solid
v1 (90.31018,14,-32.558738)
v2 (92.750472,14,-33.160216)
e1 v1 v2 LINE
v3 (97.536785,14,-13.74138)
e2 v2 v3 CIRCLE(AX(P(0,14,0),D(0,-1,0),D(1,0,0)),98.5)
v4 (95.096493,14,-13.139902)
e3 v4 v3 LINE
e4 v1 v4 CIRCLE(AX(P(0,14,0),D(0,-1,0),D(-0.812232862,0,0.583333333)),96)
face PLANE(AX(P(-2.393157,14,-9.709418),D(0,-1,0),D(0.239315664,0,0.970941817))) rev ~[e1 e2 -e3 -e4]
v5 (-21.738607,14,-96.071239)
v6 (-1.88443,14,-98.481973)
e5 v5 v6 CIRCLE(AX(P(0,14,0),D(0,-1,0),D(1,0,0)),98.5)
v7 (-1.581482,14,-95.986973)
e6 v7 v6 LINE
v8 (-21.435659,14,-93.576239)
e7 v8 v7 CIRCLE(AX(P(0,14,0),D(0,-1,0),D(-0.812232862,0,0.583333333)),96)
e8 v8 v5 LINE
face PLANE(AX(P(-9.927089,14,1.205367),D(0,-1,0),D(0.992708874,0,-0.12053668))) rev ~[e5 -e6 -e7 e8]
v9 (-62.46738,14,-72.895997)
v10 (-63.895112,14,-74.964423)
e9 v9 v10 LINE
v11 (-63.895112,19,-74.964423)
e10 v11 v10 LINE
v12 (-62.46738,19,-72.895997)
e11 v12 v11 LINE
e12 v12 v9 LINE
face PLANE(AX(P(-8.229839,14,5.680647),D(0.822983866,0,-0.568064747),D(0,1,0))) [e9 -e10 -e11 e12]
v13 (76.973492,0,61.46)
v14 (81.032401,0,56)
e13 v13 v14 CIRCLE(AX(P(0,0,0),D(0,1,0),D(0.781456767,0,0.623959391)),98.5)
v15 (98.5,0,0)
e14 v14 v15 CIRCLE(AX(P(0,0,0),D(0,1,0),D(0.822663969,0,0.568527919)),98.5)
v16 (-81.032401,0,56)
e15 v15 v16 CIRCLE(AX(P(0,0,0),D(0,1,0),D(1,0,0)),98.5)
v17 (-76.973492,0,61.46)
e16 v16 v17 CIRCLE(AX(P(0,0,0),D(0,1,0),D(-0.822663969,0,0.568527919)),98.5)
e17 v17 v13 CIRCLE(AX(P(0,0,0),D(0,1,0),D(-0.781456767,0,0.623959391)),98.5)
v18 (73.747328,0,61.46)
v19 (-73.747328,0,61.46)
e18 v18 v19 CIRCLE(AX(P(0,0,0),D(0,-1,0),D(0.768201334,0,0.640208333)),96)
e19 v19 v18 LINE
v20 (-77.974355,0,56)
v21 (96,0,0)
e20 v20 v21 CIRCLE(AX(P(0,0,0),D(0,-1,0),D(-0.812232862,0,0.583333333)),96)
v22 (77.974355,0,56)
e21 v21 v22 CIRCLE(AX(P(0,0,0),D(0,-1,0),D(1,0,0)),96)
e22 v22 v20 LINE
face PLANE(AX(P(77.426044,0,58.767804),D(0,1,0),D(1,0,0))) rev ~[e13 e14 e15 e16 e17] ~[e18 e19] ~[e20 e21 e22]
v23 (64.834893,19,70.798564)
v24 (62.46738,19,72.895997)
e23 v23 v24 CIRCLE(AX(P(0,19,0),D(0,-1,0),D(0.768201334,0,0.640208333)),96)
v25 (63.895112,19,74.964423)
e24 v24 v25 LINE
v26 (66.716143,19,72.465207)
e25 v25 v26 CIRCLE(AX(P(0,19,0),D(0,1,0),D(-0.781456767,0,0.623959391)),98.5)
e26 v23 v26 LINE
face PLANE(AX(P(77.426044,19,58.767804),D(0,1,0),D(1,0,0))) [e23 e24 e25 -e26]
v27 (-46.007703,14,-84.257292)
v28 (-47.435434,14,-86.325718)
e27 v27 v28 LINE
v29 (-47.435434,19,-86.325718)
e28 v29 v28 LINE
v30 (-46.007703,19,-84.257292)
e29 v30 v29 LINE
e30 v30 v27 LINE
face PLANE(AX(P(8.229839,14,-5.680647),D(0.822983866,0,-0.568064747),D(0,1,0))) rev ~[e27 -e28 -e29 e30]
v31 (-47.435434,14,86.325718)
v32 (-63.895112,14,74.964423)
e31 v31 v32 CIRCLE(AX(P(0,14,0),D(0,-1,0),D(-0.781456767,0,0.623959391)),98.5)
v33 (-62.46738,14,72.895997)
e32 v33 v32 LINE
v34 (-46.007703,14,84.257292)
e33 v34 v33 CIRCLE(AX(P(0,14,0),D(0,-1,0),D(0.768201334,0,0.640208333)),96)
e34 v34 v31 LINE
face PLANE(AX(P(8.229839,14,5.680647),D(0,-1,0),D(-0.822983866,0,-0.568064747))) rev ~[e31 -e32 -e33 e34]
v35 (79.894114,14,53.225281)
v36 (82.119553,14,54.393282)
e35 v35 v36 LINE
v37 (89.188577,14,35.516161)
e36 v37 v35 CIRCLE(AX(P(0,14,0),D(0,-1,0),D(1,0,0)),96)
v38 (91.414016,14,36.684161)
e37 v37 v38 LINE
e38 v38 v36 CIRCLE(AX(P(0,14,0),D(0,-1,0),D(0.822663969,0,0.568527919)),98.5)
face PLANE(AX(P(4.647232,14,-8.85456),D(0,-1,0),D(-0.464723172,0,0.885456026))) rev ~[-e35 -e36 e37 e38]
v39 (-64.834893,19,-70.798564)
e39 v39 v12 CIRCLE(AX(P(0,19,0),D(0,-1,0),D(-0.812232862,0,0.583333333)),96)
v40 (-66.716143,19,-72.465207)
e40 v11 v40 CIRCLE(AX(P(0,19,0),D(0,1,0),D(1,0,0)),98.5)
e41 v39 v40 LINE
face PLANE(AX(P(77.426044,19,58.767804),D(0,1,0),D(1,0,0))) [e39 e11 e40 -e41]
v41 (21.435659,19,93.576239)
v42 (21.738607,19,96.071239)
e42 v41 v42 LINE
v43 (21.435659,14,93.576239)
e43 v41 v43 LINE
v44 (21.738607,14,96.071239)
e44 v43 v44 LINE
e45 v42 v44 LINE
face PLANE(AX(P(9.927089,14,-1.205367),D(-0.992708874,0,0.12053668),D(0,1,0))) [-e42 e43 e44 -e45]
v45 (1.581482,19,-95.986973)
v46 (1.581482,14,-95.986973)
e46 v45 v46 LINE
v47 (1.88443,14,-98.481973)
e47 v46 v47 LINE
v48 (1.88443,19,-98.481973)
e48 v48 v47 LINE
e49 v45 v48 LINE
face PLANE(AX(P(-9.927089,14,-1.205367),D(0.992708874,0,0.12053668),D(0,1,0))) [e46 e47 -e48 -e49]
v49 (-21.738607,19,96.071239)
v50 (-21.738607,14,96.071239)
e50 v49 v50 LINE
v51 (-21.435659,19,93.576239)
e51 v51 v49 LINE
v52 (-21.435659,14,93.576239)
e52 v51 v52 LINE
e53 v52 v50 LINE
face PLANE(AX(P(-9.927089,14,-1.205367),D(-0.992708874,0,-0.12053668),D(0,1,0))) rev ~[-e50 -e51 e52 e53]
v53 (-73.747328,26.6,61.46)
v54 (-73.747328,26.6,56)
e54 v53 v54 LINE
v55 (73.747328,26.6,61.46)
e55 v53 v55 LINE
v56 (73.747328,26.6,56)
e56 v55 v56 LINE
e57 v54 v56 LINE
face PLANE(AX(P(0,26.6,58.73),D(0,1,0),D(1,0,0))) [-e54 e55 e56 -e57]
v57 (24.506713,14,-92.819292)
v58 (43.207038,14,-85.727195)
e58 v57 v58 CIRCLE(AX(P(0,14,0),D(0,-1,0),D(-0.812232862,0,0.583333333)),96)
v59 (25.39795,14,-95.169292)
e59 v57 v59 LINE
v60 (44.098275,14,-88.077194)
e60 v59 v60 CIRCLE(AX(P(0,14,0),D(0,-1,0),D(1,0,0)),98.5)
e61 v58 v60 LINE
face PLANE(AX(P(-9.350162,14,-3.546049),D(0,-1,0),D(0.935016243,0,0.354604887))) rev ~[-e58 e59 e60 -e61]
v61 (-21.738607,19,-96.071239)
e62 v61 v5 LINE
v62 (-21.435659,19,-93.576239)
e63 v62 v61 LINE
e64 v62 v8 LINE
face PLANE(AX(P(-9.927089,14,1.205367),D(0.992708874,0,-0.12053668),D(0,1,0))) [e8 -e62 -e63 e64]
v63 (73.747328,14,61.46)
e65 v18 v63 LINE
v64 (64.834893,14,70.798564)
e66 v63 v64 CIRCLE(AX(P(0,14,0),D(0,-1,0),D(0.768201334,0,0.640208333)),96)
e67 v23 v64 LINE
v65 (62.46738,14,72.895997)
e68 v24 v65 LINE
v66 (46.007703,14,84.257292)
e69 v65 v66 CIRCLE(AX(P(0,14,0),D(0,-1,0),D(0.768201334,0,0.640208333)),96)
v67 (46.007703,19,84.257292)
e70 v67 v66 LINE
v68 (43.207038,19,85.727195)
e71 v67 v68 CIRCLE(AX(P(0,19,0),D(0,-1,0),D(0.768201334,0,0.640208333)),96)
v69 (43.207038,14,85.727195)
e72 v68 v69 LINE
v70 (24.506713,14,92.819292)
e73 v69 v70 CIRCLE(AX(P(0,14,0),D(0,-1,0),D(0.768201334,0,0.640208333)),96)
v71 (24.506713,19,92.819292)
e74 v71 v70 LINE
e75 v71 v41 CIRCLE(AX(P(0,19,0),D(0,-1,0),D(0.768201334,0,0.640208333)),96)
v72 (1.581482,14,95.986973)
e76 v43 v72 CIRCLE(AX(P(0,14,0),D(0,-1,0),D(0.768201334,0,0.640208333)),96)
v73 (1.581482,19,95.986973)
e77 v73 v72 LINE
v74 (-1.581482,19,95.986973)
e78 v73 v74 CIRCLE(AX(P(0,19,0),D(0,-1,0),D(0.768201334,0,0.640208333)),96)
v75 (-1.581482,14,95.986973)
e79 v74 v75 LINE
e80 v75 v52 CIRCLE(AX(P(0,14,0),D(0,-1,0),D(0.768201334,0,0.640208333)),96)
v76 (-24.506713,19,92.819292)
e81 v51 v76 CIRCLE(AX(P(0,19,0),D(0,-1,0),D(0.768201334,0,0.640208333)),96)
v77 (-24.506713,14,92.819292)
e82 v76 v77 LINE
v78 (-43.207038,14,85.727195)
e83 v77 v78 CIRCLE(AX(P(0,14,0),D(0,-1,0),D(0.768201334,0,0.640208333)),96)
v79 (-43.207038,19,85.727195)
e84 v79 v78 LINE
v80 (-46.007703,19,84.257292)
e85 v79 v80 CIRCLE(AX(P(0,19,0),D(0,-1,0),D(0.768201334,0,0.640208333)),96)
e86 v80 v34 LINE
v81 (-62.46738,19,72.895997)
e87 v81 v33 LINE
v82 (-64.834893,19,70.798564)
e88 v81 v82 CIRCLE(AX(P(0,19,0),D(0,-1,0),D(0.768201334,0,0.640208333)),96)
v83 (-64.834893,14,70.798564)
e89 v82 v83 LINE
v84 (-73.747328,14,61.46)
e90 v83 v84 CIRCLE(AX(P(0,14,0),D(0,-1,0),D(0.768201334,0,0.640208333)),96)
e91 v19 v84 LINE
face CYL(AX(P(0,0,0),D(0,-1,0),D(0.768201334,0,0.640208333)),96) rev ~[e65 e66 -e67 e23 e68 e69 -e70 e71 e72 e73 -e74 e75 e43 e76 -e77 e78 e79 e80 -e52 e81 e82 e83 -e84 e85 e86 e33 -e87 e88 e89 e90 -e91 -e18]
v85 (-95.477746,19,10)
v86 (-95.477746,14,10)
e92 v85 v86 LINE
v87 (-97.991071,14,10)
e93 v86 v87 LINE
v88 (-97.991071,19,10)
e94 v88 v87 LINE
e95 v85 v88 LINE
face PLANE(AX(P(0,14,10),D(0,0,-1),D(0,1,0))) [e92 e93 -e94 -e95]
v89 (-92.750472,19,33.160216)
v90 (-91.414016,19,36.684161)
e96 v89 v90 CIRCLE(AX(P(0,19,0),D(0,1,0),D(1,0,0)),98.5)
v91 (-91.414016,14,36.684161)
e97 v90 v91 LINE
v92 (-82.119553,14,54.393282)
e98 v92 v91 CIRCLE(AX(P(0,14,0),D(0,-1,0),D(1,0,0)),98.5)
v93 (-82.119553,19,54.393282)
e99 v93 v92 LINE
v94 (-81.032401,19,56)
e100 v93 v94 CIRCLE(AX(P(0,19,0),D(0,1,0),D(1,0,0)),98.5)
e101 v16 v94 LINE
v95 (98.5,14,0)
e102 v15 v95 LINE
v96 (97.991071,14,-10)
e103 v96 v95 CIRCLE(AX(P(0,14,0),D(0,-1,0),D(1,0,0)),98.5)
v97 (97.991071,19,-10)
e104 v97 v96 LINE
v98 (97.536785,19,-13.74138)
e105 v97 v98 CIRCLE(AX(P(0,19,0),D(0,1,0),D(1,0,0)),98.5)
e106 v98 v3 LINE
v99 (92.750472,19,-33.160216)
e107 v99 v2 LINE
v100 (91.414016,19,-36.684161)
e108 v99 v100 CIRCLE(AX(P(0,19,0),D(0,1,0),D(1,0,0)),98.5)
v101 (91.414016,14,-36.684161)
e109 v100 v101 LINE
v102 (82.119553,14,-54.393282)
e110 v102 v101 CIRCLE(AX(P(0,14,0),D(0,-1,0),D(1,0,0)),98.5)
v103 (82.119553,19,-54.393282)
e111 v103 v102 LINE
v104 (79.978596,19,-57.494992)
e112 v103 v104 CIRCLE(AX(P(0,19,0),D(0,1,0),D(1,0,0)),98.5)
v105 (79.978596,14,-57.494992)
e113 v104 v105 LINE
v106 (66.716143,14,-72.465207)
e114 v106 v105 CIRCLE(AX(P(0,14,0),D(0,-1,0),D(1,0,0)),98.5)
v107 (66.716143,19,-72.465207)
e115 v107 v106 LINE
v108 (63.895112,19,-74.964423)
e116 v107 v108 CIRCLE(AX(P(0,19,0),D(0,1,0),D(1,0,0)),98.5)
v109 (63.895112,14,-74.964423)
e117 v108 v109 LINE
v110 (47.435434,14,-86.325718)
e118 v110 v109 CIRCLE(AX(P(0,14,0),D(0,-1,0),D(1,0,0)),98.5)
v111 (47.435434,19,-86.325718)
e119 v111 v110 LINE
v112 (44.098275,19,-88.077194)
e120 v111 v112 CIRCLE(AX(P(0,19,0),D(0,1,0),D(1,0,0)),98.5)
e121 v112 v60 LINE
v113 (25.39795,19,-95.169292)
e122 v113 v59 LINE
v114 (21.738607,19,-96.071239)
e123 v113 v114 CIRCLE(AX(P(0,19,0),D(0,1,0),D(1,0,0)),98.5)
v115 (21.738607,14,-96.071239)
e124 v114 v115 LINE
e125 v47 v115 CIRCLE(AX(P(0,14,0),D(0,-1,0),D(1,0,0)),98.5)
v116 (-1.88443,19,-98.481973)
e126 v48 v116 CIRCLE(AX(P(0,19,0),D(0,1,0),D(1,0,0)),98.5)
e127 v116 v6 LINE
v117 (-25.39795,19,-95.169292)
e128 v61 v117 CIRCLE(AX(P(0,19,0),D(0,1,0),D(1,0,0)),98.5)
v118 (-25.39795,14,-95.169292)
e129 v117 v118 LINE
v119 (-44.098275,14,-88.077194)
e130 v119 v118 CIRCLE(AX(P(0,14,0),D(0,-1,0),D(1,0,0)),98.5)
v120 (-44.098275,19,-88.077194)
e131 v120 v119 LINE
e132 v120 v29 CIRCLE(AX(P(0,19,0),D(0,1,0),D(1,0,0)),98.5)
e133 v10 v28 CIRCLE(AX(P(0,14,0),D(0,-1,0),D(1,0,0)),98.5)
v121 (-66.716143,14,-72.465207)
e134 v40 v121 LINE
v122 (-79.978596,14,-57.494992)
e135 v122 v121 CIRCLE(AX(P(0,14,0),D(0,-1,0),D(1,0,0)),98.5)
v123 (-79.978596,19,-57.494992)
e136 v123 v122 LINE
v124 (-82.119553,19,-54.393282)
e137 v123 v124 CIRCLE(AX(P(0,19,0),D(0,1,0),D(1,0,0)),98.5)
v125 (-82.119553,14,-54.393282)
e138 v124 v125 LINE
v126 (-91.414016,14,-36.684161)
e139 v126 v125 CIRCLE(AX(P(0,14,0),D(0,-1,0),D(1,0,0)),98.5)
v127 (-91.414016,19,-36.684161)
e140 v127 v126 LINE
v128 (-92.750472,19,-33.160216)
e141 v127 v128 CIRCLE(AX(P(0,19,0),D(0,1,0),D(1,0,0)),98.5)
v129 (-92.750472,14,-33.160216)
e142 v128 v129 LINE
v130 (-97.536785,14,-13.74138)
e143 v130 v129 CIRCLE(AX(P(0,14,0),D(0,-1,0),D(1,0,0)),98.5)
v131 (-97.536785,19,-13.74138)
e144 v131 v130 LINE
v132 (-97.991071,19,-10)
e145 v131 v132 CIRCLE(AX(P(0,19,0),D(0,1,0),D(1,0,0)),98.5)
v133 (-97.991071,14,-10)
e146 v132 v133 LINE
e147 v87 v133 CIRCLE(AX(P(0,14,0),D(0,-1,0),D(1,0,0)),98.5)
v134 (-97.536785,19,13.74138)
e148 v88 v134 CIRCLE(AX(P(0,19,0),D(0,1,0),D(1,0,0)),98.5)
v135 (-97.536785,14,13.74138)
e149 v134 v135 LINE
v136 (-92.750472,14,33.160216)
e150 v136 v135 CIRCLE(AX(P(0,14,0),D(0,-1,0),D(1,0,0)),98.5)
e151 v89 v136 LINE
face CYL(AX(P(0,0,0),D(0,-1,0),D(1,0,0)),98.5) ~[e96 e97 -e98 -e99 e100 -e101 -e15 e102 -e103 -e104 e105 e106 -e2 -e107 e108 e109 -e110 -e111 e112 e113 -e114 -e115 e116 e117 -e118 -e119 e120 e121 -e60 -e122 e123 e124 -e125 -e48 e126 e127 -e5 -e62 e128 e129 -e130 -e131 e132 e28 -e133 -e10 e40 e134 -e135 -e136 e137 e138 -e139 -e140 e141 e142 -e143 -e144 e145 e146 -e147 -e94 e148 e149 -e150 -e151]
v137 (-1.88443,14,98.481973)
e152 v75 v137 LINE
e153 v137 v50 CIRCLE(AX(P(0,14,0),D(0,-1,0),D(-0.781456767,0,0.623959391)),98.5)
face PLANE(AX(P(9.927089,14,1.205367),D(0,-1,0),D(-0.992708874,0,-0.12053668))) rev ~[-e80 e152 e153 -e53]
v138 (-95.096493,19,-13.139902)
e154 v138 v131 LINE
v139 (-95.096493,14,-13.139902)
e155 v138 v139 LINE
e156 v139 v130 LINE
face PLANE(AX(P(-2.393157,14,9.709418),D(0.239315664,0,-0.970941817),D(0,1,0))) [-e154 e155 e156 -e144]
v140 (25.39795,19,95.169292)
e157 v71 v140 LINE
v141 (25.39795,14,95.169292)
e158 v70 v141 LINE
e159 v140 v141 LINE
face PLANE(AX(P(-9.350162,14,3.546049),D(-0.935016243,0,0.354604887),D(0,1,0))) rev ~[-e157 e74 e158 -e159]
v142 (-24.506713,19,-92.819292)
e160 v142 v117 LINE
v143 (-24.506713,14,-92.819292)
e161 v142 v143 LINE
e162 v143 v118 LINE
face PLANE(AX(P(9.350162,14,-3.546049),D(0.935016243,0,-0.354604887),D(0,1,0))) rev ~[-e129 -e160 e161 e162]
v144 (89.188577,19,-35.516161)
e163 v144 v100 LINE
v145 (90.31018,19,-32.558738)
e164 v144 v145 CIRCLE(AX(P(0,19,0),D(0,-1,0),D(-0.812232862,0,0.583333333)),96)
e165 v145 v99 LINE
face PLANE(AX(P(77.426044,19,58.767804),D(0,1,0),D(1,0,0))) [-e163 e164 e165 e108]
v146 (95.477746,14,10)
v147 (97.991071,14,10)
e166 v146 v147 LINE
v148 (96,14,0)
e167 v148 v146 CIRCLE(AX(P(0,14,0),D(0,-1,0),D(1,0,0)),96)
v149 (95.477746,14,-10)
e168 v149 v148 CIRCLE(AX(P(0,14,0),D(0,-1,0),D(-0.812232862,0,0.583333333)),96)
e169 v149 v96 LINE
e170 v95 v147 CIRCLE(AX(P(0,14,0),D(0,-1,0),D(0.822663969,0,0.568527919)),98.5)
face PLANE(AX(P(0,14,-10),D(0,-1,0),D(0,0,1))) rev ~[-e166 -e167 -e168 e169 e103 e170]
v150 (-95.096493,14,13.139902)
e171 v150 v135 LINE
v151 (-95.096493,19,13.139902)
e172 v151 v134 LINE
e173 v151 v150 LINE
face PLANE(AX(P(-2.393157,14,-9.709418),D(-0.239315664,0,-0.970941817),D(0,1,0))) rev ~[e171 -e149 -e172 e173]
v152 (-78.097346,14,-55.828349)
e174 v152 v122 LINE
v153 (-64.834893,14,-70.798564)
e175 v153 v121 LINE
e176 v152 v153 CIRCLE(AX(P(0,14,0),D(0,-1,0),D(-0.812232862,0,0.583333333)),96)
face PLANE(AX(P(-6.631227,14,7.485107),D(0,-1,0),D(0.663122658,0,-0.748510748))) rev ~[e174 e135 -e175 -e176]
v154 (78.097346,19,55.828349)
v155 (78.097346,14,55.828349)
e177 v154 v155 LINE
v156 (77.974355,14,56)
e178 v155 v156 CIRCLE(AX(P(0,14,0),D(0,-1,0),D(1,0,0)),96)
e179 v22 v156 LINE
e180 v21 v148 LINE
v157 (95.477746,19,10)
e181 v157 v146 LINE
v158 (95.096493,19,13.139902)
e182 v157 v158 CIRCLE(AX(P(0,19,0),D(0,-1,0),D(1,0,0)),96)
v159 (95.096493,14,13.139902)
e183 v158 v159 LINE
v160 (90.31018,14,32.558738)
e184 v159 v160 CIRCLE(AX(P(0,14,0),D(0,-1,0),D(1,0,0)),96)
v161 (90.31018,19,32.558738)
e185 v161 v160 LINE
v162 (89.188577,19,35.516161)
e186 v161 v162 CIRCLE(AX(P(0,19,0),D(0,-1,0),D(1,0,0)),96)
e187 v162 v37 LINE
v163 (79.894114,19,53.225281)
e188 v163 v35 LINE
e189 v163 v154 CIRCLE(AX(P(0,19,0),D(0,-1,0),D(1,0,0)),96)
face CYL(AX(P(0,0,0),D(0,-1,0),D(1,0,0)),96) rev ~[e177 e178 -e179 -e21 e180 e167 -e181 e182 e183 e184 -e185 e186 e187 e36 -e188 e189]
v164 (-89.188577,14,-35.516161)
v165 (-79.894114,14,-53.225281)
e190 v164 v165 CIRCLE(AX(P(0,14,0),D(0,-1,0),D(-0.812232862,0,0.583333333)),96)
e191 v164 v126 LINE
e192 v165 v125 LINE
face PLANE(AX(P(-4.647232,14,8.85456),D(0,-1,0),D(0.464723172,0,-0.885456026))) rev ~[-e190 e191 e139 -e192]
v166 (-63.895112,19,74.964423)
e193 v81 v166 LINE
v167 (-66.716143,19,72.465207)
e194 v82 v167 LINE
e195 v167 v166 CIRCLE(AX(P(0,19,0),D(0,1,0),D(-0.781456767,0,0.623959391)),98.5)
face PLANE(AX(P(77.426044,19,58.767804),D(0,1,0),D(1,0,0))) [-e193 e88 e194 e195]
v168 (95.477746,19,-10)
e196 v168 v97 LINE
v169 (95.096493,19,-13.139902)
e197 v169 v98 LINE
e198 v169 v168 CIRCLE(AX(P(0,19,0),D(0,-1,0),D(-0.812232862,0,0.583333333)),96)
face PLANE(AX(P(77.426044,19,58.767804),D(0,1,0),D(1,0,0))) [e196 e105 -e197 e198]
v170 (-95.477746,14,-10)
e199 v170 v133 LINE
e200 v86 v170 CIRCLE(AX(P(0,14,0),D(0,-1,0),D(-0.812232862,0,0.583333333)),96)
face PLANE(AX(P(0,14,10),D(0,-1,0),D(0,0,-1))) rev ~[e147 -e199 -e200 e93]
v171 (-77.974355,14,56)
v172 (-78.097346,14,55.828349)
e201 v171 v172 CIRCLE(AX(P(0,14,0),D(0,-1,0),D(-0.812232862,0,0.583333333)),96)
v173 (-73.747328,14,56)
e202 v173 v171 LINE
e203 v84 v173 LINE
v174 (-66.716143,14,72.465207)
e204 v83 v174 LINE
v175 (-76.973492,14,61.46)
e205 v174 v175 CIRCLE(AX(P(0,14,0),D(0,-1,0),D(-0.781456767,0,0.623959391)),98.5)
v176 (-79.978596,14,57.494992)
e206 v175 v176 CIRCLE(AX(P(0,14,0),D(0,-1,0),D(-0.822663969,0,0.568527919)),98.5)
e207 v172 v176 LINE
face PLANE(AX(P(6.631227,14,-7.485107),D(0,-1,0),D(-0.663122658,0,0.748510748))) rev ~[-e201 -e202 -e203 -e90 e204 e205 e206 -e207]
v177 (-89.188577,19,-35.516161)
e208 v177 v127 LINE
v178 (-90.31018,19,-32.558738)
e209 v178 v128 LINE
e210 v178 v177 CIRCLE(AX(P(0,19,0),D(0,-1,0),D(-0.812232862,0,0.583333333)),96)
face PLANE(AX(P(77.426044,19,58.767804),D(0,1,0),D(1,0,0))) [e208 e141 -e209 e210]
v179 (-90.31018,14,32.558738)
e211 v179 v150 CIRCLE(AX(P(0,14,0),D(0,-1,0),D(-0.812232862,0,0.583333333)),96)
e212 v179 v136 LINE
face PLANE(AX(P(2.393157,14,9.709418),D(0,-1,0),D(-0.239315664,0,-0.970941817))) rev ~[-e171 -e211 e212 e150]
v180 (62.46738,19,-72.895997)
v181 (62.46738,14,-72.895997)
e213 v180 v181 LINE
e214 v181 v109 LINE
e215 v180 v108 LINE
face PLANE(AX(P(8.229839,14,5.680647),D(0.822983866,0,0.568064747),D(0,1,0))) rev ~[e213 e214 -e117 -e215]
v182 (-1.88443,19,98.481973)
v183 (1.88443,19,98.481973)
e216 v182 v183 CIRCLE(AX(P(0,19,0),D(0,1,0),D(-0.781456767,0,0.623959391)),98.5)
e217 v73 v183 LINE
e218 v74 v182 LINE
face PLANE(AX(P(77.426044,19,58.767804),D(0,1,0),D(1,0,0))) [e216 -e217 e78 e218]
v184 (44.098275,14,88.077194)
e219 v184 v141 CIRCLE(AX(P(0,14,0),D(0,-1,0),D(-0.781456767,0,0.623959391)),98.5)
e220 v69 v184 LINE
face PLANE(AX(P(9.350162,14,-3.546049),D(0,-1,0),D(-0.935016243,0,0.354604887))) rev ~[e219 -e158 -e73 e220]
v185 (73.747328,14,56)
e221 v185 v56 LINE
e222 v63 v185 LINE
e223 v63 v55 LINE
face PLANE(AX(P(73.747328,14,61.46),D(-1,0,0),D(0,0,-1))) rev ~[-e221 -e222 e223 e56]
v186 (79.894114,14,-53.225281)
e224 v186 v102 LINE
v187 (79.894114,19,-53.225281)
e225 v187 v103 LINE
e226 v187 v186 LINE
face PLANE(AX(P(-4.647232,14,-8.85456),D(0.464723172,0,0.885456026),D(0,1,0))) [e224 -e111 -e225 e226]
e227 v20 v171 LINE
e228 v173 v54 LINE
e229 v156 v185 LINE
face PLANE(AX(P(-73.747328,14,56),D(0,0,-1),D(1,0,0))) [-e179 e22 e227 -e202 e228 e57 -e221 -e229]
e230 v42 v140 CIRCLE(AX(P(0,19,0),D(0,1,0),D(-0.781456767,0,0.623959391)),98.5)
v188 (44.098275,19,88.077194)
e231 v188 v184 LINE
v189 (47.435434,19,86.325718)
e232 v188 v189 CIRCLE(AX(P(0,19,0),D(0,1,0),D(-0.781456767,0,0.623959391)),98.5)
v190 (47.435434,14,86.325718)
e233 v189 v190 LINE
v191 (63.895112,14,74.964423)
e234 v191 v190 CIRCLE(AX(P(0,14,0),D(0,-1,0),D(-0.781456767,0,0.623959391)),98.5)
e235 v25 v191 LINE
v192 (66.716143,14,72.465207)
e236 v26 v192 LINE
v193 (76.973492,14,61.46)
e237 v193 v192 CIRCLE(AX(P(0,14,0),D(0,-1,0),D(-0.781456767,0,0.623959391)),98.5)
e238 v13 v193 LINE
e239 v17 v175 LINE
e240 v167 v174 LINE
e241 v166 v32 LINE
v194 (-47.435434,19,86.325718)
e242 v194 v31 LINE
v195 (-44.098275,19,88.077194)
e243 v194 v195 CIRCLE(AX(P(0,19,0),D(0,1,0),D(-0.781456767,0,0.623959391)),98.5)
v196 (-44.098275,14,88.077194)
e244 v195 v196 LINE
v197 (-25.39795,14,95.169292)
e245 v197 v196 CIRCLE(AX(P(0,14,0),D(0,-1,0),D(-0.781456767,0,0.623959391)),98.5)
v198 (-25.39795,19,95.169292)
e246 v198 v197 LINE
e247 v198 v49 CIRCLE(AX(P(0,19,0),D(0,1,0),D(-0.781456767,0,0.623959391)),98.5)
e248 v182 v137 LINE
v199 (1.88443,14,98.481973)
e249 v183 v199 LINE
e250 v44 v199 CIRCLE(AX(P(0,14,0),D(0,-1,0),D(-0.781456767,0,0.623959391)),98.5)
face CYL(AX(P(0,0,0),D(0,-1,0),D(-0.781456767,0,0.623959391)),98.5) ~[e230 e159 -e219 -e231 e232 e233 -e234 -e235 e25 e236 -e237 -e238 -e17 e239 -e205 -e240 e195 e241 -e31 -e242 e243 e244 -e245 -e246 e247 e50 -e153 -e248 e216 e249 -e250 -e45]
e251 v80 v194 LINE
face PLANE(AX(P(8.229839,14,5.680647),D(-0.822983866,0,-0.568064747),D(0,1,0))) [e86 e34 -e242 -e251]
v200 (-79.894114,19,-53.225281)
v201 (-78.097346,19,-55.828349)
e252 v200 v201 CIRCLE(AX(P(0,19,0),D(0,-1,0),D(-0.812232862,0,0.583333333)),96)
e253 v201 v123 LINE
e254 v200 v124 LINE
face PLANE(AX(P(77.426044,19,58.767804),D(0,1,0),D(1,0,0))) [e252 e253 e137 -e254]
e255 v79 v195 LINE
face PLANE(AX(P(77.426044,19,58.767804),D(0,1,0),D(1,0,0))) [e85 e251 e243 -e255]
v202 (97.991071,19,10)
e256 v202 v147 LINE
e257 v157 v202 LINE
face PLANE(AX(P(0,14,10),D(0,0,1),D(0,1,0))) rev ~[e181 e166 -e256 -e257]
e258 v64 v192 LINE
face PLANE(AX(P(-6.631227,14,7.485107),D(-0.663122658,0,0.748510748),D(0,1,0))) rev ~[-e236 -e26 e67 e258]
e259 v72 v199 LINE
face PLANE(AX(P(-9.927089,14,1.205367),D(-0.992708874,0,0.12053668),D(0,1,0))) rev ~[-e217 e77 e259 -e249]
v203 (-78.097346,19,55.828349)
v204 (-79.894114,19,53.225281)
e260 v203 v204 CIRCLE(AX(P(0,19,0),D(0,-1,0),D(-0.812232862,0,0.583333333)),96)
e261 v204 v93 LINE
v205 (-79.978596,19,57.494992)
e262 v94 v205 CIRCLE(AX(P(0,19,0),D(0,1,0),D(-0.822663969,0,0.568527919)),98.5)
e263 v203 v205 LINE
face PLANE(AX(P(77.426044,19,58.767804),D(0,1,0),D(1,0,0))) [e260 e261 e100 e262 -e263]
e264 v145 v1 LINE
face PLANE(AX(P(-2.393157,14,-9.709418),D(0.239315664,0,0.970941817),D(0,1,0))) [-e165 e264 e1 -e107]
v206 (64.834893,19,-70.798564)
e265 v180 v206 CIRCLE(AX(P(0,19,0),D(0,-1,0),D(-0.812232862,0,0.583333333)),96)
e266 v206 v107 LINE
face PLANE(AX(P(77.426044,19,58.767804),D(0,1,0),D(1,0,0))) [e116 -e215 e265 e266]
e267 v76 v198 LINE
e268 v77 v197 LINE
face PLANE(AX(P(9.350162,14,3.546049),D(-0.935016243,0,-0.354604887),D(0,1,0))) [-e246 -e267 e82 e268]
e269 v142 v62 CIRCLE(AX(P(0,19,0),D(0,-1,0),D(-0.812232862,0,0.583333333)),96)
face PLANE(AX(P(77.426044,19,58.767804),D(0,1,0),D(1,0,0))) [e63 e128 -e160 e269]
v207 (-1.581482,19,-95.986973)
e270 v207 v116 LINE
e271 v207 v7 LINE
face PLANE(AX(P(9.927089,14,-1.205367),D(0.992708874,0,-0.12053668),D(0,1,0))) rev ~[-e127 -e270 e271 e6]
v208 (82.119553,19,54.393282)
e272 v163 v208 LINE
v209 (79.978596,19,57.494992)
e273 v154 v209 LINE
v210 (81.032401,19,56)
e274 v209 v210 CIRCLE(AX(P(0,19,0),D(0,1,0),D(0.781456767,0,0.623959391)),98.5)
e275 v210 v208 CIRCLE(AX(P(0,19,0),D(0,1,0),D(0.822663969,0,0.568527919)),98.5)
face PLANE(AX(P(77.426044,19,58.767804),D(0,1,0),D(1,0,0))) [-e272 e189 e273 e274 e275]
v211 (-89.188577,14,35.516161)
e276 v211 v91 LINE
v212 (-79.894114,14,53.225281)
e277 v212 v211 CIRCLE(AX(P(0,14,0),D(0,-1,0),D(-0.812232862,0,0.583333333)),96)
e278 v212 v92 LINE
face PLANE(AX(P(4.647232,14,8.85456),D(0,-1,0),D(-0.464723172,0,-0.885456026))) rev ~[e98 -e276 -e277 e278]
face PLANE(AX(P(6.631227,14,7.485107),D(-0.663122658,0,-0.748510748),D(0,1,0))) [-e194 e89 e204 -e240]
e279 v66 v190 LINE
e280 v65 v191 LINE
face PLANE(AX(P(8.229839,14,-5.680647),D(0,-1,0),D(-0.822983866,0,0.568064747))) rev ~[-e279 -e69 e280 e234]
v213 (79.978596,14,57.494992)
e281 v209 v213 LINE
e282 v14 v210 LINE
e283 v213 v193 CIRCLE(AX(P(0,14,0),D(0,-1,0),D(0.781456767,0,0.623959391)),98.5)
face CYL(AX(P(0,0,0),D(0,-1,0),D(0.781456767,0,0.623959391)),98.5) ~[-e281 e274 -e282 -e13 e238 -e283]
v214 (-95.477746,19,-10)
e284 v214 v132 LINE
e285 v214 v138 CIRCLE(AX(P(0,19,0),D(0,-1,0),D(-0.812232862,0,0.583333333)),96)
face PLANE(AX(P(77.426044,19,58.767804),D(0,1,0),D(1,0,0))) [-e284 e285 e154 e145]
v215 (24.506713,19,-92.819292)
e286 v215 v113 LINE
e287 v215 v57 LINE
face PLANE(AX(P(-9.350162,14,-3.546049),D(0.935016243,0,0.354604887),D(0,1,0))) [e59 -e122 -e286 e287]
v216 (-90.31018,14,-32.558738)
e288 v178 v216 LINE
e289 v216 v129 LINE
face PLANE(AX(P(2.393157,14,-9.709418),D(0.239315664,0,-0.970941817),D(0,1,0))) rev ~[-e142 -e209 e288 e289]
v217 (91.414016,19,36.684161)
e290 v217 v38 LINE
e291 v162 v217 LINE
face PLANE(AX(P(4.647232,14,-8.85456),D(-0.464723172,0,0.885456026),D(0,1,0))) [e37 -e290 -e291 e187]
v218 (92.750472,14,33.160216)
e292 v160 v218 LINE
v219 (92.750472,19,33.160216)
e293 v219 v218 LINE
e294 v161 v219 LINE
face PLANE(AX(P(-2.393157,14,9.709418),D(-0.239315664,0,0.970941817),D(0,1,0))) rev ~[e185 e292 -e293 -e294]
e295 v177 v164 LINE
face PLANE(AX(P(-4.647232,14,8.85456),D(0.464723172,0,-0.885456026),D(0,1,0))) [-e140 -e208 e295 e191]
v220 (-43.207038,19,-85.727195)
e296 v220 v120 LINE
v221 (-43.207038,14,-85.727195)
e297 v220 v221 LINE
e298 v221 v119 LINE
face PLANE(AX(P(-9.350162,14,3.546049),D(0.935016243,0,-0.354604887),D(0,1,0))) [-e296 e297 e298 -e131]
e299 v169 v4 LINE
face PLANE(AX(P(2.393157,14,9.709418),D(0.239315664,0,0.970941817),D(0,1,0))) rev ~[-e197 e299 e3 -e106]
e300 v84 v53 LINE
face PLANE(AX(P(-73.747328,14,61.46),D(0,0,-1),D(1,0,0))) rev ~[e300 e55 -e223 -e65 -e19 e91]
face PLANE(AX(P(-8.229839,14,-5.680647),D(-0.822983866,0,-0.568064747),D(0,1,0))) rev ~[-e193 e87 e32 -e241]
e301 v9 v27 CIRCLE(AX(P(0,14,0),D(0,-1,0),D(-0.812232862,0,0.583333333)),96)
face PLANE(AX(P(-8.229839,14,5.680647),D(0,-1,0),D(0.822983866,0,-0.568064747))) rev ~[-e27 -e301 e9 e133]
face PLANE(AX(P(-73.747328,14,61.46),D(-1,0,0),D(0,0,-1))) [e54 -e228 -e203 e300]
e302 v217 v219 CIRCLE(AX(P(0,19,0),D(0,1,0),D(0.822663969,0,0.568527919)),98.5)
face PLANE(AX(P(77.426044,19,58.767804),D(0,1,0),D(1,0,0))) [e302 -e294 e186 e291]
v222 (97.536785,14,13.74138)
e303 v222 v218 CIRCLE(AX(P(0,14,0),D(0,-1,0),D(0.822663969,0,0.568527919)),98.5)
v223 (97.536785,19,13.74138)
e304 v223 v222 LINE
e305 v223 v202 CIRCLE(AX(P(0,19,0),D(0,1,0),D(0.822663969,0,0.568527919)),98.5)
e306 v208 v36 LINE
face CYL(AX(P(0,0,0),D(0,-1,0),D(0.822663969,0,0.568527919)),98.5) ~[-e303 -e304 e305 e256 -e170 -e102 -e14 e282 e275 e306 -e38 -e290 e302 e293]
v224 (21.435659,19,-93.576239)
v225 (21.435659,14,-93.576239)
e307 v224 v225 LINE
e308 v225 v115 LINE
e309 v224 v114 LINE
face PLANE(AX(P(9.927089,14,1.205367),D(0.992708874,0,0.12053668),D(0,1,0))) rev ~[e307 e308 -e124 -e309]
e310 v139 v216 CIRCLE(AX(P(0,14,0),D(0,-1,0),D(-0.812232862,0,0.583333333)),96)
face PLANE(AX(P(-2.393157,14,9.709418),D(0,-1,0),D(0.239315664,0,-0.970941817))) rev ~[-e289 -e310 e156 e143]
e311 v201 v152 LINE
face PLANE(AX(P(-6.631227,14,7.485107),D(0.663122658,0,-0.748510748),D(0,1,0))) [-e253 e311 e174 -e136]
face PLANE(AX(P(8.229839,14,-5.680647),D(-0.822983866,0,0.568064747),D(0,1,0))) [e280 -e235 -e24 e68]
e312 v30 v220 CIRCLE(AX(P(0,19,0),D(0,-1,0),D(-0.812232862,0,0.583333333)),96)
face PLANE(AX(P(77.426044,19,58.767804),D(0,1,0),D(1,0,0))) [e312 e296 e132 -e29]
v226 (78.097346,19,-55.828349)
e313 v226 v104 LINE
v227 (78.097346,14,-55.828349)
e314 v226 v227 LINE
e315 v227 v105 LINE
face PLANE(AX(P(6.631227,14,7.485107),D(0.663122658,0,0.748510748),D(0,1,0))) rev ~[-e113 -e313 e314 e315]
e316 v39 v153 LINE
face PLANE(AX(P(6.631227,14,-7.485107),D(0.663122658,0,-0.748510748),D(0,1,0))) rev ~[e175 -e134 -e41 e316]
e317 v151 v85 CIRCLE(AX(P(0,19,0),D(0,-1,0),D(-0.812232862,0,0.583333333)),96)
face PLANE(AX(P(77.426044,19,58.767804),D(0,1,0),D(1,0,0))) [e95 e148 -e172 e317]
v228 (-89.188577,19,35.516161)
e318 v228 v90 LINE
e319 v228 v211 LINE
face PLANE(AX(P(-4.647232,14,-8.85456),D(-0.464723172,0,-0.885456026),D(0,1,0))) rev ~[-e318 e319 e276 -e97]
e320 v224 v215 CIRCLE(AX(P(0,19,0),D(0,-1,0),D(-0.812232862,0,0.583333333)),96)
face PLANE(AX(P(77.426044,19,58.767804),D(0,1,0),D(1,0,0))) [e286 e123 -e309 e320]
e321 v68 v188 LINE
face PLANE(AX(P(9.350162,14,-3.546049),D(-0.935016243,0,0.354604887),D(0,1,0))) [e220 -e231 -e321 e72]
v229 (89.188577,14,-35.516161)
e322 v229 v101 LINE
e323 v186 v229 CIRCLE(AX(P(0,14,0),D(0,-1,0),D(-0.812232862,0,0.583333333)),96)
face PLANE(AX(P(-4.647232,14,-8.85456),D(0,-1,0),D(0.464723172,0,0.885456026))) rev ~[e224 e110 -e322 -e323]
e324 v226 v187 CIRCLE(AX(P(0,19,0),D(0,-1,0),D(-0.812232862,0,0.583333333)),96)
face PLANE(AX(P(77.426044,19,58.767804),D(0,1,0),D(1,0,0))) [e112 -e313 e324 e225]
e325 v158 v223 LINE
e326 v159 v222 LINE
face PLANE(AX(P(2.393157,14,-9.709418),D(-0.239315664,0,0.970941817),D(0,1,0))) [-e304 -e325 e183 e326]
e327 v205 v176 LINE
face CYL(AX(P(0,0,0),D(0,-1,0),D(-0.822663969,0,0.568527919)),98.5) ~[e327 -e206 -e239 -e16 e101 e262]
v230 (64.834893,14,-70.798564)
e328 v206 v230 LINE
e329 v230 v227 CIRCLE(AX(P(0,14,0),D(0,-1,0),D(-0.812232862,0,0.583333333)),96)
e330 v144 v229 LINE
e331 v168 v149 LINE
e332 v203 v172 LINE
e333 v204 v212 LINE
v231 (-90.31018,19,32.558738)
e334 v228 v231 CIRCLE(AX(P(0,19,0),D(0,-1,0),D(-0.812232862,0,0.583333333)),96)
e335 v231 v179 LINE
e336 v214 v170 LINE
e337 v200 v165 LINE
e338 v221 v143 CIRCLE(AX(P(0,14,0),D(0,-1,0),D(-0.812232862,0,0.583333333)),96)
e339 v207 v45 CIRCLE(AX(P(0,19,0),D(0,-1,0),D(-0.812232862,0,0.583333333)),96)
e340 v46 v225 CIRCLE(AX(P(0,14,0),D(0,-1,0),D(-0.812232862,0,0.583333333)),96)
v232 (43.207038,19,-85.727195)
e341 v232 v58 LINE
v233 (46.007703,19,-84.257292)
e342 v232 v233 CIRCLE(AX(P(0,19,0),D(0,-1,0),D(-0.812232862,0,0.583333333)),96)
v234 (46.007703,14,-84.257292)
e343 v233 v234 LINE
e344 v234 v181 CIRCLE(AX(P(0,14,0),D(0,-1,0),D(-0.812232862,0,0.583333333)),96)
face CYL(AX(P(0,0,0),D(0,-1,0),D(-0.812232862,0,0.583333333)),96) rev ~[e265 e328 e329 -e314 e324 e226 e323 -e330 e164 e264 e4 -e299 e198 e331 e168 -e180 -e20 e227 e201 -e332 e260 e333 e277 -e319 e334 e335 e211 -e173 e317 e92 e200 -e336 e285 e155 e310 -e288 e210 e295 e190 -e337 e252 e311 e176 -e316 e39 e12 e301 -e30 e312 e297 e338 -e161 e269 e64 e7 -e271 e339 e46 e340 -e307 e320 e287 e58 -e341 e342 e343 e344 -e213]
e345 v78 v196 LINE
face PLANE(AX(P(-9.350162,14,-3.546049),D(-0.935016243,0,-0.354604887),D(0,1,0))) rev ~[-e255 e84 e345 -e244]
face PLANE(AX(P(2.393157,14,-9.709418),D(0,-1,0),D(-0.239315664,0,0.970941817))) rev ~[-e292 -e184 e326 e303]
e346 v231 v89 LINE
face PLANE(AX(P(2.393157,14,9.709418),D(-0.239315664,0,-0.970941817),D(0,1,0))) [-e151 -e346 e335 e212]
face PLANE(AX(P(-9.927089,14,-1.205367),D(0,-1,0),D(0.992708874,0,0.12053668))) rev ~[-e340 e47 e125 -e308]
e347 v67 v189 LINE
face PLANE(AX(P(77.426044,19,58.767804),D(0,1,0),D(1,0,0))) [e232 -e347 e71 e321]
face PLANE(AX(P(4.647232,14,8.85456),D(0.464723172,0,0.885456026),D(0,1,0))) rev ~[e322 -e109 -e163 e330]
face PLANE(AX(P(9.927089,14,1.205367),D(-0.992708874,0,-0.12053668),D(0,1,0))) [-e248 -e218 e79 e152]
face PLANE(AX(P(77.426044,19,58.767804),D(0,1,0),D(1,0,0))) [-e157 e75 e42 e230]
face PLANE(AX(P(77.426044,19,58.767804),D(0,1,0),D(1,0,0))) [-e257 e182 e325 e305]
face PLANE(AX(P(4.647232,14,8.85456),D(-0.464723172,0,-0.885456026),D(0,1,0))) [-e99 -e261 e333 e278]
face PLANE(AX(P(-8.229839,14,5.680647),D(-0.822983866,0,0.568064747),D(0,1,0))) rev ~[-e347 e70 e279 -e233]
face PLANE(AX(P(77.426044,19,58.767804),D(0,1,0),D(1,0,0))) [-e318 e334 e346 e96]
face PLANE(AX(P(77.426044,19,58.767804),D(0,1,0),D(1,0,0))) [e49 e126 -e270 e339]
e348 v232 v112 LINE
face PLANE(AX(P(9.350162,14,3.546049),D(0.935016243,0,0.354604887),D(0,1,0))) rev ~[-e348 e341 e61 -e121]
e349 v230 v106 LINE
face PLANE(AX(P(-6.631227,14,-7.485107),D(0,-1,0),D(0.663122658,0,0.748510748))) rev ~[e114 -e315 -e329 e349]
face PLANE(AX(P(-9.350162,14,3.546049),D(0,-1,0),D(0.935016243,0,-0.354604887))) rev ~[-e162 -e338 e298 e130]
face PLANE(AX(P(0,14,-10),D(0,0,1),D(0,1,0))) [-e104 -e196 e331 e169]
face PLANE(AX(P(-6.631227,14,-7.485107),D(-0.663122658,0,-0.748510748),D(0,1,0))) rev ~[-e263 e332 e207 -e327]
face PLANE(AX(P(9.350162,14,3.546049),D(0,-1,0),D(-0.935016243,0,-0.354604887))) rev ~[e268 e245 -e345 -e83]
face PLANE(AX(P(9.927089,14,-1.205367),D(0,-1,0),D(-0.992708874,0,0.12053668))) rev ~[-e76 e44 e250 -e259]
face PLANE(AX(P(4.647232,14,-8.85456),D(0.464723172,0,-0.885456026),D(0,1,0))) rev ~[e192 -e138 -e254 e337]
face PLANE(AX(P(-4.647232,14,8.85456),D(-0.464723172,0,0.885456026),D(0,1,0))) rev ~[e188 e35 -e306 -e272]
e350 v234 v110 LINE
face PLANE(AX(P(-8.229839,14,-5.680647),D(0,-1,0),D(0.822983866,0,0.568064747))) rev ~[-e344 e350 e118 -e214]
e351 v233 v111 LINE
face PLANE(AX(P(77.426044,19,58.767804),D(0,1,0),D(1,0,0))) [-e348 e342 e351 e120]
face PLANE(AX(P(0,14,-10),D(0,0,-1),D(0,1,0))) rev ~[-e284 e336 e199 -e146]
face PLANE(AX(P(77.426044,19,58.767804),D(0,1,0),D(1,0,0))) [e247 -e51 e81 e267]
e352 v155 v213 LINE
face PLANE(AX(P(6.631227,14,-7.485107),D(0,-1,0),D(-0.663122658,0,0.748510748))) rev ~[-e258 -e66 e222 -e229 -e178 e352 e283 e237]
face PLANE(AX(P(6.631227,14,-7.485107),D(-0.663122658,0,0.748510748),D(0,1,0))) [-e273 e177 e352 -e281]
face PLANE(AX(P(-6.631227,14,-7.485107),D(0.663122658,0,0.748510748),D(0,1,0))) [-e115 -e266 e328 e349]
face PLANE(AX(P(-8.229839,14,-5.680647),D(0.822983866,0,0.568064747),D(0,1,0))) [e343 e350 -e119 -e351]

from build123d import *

# Parameters (mm, degrees)
BOSS_EXTRUDE1_DEPTH = 19
SKETCH2_W           = 20
SKETCH2_H           = 11
CUT_EXTRUDE1_DEPTH  = 141.589828935
CIRPATTERN1_COUNT   = 26
SKETCH3_W           = 147.494656174
SKETCH3_H           = 5.46
BOSS_EXTRUDE2_DEPTH = 12.6


with BuildPart() as part:
    # Sketch1 → Boss-Extrude1 (new body)
    with BuildSketch(Plane(origin=(0, 0, 0), x_dir=(1, 0, 0), z_dir=(0, 1, 0))):
        with BuildLine():
            ThreePointArc((76.973491541, -61.46), (79.050100656, -58.765054125), (81.032400927, -56))
            Line((81.032400927, -56), (77.974354758, -56))
            ThreePointArc((77.974354758, -56), (75.90994771, -58.76801714), (73.747328087, -61.46))
            Line((73.747328087, -61.46), (76.973491541, -61.46))
        make_face()
        with BuildLine():
            ThreePointArc((73.747328087, -61.46), (75.90994771, -58.76801714), (77.974354758, -56))
            Line((77.974354758, -56), (-77.974354758, -56))
            ThreePointArc((-77.974354758, -56), (-75.90994771, -58.76801714), (-73.747328087, -61.46))
            Line((-73.747328087, -61.46), (73.747328087, -61.46))
        make_face()
        with BuildLine():
            ThreePointArc((-73.747328087, -61.46), (-75.90994771, -58.76801714), (-77.974354758, -56))
            Line((-77.974354758, -56), (-81.032400927, -56))
            ThreePointArc((-81.032400927, -56), (-79.050100656, -58.765054125), (-76.973491541, -61.46))
            Line((-76.973491541, -61.46), (-73.747328087, -61.46))
        make_face()
        with BuildLine():
            Line((77.974354758, -56), (81.032400927, -56))
            ThreePointArc((81.032400927, -56), (94.031753922, -29.330517458), (98.5, 0))
            ThreePointArc((98.5, 0), (-29.330517458, 94.031753922), (-81.032400927, -56))
            Line((-81.032400927, -56), (-77.974354758, -56))
            ThreePointArc((-77.974354758, -56), (-29.414808713, 91.382542252), (96, 0))
            ThreePointArc((96, 0), (91.382542252, -29.414808713), (77.974354758, -56))
        make_face()
        with BuildLine():
            ThreePointArc((-76.973491541, -61.46), (0, -98.5), (76.973491541, -61.46))
            Line((76.973491541, -61.46), (73.747328087, -61.46))
            ThreePointArc((73.747328087, -61.46), (0, -96), (-73.747328087, -61.46))
            Line((-73.747328087, -61.46), (-76.973491541, -61.46))
        make_face()
    extrude(amount=BOSS_EXTRUDE1_DEPTH)

    # Sketch2 → Cut-Extrude1 (cut, through all)
    with BuildSketch(Plane(origin=(0, 0, 0), x_dir=(0, 0, -1), z_dir=(1, 0, 0))):
        with Locations((0, 19.5)):
            Rectangle(SKETCH2_W, SKETCH2_H)
    cut_extrude1 = extrude(amount=-CUT_EXTRUDE1_DEPTH, mode=Mode.SUBTRACT)

    # CirPattern1: Cut-Extrude1 ×26 about axis
    cirpattern1_axis = Axis((0, 0, 0), (0, 1, 0))
    for i in range(1, CIRPATTERN1_COUNT):
        add(cut_extrude1.rotate(cirpattern1_axis, i * 360 / CIRPATTERN1_COUNT), mode=Mode.SUBTRACT)

    # Sketch3 → Boss-Extrude2 (add)
    with BuildSketch(Plane(origin=(0, 14, 0), x_dir=(1, 0, 0), z_dir=(0, 1, 0))):
        with Locations((0, -58.73)):
            Rectangle(SKETCH3_W, SKETCH3_H)
    extrude(amount=BOSS_EXTRUDE2_DEPTH)


solid = part.part
